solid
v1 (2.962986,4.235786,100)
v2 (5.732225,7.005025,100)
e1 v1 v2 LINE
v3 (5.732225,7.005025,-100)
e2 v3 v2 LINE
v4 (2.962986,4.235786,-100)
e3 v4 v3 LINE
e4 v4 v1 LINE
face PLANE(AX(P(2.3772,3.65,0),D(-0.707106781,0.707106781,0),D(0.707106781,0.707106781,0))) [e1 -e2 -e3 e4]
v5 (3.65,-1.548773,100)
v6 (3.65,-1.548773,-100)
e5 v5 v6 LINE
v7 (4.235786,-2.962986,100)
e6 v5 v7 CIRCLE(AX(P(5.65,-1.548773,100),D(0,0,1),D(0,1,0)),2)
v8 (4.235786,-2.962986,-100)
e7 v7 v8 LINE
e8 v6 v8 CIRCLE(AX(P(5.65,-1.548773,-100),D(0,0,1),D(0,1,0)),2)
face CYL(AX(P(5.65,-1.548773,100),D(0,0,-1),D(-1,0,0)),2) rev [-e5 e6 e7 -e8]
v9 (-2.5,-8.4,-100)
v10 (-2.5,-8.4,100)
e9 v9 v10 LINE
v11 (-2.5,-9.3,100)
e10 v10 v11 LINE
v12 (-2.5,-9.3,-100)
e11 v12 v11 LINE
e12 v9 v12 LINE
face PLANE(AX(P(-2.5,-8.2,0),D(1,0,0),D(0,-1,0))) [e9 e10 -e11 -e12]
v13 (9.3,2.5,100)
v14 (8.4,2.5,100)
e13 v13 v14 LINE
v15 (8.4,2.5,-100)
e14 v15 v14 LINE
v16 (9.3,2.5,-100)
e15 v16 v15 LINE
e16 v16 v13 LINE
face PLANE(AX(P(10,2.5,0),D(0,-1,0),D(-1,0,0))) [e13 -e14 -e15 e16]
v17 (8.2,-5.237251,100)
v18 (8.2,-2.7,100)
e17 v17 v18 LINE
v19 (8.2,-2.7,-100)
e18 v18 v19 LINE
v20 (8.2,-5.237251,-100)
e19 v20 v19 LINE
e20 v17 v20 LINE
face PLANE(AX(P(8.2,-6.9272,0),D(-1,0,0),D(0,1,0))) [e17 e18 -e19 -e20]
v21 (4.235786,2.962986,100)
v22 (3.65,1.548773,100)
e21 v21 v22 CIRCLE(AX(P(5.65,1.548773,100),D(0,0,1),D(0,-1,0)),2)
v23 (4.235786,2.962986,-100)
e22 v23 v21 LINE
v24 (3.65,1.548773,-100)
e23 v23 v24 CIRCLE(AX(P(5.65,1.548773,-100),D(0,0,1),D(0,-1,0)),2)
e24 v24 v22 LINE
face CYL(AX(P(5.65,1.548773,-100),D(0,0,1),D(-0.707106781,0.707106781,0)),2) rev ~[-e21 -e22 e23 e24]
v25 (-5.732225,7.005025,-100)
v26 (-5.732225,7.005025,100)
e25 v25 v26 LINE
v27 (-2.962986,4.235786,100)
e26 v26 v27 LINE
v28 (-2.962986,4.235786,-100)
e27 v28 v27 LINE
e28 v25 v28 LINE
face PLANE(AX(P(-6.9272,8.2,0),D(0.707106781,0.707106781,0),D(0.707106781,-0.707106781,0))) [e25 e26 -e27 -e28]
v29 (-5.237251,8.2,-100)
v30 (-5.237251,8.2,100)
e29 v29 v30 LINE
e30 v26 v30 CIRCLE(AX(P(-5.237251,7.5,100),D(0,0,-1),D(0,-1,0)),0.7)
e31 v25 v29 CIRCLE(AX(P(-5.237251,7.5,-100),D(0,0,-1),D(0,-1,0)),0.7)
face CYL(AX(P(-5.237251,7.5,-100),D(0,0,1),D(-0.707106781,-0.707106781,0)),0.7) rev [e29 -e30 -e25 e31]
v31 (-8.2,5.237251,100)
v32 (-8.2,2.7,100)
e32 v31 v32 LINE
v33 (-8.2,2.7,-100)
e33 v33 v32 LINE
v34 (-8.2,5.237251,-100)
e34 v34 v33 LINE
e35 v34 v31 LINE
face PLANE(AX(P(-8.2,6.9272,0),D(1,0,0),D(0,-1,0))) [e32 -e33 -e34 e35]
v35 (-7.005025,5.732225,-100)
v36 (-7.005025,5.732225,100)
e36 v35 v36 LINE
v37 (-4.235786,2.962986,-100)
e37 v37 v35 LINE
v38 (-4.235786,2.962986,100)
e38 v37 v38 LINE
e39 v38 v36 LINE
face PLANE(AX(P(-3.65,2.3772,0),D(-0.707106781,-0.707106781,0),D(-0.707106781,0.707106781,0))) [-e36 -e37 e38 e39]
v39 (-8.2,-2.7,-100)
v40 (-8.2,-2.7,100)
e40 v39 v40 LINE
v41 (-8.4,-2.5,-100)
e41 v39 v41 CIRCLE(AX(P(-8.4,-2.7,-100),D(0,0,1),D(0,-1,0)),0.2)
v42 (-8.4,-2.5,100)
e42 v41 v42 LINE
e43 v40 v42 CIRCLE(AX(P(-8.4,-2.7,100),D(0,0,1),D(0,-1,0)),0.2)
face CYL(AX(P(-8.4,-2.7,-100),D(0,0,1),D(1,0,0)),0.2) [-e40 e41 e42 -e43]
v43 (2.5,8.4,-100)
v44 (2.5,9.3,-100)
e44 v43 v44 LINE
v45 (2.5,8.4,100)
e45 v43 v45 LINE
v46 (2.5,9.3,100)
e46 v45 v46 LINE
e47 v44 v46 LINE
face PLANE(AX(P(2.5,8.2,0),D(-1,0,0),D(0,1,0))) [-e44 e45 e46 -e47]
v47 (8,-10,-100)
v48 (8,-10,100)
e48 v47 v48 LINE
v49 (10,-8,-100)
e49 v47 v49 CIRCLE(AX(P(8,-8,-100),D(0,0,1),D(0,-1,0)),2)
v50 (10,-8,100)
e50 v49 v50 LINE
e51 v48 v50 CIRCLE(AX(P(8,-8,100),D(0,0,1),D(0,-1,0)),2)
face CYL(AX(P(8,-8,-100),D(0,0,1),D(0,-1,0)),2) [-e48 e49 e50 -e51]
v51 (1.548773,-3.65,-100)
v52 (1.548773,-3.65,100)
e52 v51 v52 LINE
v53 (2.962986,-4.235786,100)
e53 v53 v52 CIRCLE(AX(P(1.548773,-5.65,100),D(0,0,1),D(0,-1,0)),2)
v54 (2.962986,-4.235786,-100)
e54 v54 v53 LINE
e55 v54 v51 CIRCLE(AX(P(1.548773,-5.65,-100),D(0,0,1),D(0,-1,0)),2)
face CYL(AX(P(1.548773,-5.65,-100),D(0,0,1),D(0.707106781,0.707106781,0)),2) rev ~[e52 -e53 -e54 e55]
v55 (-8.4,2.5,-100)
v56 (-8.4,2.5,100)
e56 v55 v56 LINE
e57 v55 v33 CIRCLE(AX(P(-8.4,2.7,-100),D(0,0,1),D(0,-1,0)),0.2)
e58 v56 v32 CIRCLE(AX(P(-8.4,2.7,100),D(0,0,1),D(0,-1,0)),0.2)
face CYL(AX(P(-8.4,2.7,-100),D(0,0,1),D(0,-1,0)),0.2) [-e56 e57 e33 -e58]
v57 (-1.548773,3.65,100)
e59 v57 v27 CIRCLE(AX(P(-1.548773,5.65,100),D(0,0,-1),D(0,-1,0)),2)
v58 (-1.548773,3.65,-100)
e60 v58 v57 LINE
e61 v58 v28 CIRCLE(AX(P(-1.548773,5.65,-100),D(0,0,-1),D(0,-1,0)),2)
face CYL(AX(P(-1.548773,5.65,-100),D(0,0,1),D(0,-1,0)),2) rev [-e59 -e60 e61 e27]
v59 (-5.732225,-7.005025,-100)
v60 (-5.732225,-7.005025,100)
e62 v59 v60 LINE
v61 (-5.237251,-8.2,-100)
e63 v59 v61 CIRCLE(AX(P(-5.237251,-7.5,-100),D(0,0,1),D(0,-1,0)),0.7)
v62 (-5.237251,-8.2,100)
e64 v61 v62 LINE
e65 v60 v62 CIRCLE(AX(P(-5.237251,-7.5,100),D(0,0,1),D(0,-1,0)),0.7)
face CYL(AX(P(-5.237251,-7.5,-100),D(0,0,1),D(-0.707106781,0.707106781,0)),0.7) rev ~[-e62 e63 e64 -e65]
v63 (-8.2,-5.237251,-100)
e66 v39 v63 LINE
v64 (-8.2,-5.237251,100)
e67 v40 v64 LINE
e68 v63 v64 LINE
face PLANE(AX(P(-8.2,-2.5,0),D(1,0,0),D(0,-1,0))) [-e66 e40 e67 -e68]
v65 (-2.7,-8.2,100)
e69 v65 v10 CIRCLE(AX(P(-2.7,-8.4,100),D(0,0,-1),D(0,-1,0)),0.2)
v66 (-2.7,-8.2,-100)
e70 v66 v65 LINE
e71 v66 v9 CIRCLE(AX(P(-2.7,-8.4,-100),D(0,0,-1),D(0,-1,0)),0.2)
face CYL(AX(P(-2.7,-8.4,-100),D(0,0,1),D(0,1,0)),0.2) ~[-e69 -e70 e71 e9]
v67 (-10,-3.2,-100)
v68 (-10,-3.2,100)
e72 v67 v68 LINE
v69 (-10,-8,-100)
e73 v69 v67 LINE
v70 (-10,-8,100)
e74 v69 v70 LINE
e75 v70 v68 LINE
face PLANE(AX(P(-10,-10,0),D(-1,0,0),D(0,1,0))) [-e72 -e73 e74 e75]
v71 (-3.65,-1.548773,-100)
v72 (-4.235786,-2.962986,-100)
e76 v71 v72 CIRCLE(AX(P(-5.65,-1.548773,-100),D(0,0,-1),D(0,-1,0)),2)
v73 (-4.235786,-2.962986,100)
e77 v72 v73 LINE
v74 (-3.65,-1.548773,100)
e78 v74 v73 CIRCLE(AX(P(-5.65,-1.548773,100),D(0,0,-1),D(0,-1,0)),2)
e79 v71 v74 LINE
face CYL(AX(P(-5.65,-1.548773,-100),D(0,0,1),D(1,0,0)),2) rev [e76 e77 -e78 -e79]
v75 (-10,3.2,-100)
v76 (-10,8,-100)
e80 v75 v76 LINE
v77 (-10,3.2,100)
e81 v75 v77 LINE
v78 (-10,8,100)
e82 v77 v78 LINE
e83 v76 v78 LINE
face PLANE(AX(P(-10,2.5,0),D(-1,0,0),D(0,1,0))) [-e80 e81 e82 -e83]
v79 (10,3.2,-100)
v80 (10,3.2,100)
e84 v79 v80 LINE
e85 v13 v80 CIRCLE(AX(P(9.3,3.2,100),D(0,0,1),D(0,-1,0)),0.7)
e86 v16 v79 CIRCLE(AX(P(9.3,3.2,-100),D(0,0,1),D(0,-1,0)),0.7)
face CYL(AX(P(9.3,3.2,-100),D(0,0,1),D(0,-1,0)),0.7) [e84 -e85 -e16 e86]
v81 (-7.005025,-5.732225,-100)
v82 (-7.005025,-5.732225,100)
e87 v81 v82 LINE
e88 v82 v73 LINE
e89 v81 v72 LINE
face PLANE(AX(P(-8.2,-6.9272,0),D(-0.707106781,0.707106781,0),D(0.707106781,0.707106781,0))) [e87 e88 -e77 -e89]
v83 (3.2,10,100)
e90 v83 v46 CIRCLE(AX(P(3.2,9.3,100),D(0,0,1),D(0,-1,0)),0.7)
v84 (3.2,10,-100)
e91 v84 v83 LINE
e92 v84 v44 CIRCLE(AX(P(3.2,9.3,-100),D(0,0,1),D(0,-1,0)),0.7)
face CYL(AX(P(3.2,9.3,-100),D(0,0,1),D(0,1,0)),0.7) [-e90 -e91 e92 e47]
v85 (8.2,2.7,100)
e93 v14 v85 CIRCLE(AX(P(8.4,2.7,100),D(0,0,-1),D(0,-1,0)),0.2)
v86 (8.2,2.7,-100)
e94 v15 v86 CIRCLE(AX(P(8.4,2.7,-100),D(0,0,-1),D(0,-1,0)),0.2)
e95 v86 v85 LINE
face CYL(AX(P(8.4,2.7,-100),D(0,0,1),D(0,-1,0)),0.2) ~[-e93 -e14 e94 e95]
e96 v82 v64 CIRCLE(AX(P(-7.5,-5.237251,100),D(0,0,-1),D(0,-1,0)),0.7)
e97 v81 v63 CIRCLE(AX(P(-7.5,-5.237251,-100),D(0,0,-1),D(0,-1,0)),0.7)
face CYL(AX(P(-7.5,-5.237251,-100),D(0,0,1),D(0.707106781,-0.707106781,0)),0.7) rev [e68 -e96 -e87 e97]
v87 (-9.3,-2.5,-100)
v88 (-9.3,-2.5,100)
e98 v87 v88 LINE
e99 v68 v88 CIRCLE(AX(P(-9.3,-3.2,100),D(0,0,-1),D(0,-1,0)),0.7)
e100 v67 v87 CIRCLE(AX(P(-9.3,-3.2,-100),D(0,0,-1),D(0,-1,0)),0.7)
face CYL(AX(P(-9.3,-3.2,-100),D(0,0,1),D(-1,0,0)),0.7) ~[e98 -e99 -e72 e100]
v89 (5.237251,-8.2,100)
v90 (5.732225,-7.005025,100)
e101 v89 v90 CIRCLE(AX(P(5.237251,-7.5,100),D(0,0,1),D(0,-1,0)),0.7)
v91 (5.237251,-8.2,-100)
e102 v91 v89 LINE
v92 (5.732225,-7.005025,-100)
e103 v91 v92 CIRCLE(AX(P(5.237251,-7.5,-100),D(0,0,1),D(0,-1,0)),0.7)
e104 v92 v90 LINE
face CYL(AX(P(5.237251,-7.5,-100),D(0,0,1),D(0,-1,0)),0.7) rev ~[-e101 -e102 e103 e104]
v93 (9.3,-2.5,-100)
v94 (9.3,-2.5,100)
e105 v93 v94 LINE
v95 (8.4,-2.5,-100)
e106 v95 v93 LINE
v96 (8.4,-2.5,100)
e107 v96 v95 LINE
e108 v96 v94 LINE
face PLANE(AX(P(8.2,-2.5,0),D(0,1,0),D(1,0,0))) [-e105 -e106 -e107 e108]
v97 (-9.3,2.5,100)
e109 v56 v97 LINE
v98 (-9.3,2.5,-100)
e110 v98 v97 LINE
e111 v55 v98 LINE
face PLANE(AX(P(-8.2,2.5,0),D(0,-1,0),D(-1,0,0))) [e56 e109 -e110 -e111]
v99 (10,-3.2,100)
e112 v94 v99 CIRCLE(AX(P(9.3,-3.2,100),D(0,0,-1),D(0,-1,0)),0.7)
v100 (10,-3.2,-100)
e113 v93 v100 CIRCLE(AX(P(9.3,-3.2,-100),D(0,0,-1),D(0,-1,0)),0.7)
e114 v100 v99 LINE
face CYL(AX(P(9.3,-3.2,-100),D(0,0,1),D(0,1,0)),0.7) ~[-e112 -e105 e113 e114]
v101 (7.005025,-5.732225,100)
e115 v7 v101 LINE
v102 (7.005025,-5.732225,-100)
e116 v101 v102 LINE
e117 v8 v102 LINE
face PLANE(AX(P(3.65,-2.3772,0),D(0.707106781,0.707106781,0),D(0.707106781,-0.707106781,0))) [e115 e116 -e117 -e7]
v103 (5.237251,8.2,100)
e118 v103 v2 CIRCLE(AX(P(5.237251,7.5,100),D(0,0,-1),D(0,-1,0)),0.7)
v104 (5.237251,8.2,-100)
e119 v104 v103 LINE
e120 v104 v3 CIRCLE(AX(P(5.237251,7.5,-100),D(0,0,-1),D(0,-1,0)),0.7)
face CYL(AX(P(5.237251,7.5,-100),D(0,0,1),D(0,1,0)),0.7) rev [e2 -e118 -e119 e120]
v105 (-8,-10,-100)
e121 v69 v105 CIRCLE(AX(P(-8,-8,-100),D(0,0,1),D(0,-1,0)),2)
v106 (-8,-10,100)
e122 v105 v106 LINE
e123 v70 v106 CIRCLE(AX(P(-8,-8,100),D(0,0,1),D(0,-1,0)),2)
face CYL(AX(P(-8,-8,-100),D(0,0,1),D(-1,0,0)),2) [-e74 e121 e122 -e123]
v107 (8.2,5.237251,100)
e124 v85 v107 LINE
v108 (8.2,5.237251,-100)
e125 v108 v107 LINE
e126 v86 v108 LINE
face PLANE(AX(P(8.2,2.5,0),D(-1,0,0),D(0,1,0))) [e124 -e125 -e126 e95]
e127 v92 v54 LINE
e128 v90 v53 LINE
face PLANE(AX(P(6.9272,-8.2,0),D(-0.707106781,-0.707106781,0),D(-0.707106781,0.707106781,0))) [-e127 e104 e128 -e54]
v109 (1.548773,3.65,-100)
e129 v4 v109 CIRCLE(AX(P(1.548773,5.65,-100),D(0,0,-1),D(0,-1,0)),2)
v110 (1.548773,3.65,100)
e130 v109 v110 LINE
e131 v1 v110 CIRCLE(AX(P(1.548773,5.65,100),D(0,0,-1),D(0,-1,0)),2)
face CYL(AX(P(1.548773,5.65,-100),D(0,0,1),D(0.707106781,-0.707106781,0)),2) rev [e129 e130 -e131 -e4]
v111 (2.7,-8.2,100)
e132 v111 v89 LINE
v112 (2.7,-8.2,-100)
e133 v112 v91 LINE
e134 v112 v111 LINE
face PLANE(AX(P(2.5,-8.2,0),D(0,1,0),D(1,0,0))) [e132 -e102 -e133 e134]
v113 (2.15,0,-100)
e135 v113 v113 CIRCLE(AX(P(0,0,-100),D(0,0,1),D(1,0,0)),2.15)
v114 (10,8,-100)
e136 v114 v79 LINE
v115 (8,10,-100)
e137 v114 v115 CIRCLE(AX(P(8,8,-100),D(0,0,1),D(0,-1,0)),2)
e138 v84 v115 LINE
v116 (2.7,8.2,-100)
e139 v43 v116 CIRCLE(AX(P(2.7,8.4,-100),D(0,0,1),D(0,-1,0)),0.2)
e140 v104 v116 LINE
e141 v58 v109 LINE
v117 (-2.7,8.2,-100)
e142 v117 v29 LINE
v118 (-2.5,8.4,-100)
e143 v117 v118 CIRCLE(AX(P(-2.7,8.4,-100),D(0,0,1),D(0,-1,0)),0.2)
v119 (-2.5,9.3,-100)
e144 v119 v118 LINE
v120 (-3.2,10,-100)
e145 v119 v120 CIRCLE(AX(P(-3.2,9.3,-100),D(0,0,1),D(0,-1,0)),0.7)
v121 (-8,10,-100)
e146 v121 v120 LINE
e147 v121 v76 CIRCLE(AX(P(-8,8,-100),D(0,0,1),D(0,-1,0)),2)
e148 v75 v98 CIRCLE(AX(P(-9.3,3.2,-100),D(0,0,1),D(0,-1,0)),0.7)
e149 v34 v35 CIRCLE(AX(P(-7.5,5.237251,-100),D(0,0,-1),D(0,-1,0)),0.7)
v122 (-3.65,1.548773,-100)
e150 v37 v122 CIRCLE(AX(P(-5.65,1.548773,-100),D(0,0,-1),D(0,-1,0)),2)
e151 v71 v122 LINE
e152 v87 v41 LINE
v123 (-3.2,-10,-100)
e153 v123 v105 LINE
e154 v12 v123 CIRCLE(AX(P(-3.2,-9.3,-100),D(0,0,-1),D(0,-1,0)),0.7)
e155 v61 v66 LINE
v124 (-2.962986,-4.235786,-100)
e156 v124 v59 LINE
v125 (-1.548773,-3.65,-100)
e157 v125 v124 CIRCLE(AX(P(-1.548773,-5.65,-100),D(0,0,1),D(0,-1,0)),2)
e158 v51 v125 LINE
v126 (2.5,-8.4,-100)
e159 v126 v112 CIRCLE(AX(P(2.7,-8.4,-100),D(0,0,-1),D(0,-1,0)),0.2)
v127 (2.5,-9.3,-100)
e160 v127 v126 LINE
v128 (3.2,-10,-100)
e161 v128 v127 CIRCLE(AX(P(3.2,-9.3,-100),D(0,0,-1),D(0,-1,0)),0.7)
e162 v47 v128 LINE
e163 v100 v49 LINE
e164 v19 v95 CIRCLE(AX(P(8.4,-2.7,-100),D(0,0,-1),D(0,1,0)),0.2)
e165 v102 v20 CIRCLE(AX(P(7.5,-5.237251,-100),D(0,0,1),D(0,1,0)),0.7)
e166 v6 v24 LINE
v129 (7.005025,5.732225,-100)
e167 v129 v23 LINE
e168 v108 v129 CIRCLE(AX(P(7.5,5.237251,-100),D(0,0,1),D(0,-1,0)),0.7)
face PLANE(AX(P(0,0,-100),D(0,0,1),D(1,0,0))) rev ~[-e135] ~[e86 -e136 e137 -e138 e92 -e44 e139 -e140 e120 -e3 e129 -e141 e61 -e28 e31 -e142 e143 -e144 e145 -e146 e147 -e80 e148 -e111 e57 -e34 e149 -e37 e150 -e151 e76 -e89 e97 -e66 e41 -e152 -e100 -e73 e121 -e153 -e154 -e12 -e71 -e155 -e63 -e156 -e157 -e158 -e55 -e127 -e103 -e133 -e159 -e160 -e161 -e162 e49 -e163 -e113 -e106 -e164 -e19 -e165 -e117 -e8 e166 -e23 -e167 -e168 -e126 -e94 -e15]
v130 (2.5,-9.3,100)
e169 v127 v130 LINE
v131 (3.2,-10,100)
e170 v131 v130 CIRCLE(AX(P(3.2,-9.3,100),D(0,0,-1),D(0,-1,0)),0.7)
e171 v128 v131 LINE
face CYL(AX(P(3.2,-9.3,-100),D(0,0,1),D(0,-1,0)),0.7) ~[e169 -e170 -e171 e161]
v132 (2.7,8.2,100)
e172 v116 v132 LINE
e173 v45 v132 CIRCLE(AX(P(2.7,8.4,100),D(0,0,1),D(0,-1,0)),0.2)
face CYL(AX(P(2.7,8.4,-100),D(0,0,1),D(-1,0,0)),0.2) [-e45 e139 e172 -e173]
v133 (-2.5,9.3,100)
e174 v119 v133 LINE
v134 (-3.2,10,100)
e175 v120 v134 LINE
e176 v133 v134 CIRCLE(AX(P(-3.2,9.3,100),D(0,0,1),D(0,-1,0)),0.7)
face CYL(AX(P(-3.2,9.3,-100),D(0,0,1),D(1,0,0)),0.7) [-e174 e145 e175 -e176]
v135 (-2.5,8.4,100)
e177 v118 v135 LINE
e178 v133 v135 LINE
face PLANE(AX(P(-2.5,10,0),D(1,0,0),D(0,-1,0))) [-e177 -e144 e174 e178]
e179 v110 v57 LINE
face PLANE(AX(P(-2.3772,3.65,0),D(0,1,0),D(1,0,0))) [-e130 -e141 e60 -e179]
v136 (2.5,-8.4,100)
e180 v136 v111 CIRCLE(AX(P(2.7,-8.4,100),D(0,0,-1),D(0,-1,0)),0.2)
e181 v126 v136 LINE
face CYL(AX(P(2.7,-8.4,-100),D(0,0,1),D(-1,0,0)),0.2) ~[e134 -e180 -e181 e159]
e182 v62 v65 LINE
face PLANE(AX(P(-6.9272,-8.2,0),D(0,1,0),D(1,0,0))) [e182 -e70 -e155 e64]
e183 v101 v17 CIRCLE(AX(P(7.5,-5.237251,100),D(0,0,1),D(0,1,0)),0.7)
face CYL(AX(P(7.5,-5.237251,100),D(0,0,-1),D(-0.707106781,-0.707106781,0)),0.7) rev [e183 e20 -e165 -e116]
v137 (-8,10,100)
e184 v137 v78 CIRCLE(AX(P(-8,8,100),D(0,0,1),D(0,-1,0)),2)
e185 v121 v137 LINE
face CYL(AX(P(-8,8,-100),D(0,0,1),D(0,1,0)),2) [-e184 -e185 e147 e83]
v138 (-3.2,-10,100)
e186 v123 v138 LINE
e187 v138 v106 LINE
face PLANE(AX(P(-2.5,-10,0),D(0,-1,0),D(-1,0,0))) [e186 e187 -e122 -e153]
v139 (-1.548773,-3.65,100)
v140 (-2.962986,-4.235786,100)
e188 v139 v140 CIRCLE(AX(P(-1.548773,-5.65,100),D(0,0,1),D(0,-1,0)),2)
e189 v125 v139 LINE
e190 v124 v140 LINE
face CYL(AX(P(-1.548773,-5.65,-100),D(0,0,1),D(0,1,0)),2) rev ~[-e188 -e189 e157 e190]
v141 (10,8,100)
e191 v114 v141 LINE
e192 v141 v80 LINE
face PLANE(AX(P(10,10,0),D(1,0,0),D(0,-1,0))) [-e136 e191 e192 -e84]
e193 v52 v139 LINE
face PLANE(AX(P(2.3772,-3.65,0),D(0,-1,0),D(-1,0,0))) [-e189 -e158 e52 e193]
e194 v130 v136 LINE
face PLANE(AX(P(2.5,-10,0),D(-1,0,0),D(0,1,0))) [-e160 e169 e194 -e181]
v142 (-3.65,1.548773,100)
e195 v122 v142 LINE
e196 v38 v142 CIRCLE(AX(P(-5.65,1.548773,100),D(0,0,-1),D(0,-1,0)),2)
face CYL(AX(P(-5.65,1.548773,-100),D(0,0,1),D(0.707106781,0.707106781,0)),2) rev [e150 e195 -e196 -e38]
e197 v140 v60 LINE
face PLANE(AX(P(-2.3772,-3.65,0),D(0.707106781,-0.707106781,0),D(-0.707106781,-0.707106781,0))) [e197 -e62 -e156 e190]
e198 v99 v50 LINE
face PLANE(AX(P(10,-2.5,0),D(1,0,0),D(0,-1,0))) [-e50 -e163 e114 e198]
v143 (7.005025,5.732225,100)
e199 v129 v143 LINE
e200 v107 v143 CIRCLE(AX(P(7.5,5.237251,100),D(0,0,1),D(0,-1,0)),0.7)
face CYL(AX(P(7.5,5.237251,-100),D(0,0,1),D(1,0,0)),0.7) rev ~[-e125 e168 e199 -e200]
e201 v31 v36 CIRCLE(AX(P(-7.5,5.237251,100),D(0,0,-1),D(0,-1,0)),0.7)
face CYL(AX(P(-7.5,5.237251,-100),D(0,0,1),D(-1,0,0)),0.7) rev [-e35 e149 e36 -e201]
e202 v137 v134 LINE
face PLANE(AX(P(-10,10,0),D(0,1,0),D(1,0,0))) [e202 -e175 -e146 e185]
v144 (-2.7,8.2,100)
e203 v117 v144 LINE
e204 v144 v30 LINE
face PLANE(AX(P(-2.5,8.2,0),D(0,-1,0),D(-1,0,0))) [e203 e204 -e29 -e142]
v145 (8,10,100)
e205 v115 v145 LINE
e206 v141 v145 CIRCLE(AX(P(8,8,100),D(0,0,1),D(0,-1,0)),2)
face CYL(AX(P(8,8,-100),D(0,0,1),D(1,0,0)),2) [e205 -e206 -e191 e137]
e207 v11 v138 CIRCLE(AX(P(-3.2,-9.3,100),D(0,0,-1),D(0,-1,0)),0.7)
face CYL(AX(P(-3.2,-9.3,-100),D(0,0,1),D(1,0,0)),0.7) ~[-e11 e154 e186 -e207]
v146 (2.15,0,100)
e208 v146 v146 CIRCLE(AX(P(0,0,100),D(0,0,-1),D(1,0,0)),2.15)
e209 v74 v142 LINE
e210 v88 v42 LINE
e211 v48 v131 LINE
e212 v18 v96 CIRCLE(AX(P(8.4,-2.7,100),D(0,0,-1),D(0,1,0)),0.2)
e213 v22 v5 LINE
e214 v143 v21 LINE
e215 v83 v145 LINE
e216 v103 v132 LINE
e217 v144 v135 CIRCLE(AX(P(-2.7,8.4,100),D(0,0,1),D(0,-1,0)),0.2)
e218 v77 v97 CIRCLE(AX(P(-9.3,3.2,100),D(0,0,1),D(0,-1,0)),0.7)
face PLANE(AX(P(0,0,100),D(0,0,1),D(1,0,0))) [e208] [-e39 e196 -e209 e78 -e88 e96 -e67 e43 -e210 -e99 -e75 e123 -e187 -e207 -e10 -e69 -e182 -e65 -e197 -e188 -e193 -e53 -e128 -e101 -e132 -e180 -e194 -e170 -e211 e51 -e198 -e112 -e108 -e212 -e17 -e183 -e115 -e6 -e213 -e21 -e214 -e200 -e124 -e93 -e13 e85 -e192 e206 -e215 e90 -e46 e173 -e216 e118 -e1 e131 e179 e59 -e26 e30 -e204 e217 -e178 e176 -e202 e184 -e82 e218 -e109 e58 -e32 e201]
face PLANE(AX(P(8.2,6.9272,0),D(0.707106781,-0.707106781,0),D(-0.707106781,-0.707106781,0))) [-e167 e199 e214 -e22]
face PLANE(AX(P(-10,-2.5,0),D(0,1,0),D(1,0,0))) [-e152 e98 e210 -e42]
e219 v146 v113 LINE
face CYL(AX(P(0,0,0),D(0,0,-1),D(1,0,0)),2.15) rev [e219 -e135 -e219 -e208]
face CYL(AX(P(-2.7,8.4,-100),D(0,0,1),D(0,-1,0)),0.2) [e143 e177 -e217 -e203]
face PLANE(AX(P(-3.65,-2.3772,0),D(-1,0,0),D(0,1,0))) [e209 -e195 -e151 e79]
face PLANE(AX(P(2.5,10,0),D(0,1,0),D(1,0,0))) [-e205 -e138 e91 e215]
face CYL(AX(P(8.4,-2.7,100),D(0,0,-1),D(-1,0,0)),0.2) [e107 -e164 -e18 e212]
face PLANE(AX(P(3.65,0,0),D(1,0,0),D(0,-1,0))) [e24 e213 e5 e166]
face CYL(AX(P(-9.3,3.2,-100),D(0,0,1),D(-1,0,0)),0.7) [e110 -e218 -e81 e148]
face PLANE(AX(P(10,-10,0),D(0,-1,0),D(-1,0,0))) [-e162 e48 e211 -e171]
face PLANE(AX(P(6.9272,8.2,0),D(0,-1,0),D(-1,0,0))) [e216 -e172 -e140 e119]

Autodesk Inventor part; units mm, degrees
ref_plane "YZ Plane" through (0, 0, 0) normal (1, 0, 0) x (0, 1, 0)
ref_plane "XZ Plane" through (0, 0, 0) normal (0, 1, 0) x (-1, 0, 0)
ref_plane "XY Plane" through (0, 0, 0) normal (0, 0, 1) x (1, 0, 0)
sketch "Sketch1" plane through (0, 0, 0) normal (0, 0, 1) x (1, 0, 0)
  circle A0 centre (0, 0) radius 2.15
  line L0 (-10, 10) -> (-2.5, 10)
  line L1 (-2.5, 10) -> (-2.5, 8.2)
  line L2 (-2.5, 8.2) -> (-6.9272, 8.2)
  line L3 (-6.9272, 8.2) -> (-2.3772, 3.65)
  line L4 (-2.3772, 3.65) -> (2.3772, 3.65)
  line L5 (2.3772, 3.65) -> (6.9272, 8.2)
  line L6 (6.9272, 8.2) -> (2.5, 8.2)
  line L7 (2.5, 8.2) -> (2.5, 10)
  line L8 (2.5, 10) -> (10, 10)
  line L9 (10, 10) -> (10, 2.5)
  line L10 (10, 2.5) -> (8.2, 2.5)
  line L11 (8.2, 2.5) -> (8.2, 6.9272)
  line L12 (8.2, 6.9272) -> (3.65, 2.3772)
  line L13 (3.65, 2.3772) -> (3.65, -2.3772)
  line L14 (3.65, -2.3772) -> (8.2, -6.9272)
  line L15 (8.2, -6.9272) -> (8.2, -2.5)
  line L16 (8.2, -2.5) -> (10, -2.5)
  line L17 (10, -2.5) -> (10, -10)
  line L18 (10, -10) -> (2.5, -10)
  line L19 (2.5, -10) -> (2.5, -8.2)
  line L20 (2.5, -8.2) -> (6.9272, -8.2)
  line L21 (6.9272, -8.2) -> (2.3772, -3.65)
  line L22 (2.3772, -3.65) -> (-2.3772, -3.65)
  line L23 (-2.3772, -3.65) -> (-6.9272, -8.2)
  line L24 (-6.9272, -8.2) -> (-2.5, -8.2)
  line L25 (-2.5, -8.2) -> (-2.5, -10)
  line L26 (-2.5, -10) -> (-10, -10)
  line L27 (-10, -10) -> (-10, -2.5)
  line L28 (-10, -2.5) -> (-8.2, -2.5)
  line L29 (-8.2, -2.5) -> (-8.2, -6.9272)
  line L30 (-8.2, -6.9272) -> (-3.65, -2.3772)
  line L31 (-3.65, -2.3772) -> (-3.65, 2.3772)
  line L32 (-3.65, 2.3772) -> (-8.2, 6.9272)
  line L33 (-8.2, 6.9272) -> (-8.2, 2.5)
  line L34 (-8.2, 2.5) -> (-10, 2.5)
  line L35 (-10, 2.5) -> (-10, 10)
  line L36 (0, 0) -> (-30.8654, 30.8654)
  line L37 (0, 0) -> (30.8654, 30.8654)
  line L38 (0, 0) -> (42.5392, 0)
  line L39 (0, 0) -> (0, 44.3419)
  dimension "d0" = 45
  dimension "d1" = 90
  dimension "Breite" = 20
  dimension "Tiefe_Schiene" = 6.35
  dimension "d2" = 1.8
  dimension "Durchmesser_Loch" = 4.3
  dimension "Wandstaerke" = 1.8
  dimension "d3" = 1.8
  dimension "Breite_Schiene" = 5
  dimension "d4" = 5
extrude "Extrusion1" add sketch "Sketch1" along normal mid plane 200 contours L38 L13 L14 L15 L16 L17 L18 L19 L20 L21 L22 L23 L24 L25 L26 L27 L28 L29 L30 L31 L32 L33 L34 L35 L36 A0 | A0 L37 L9 L10 L11 L12 L13 L38 | A0 L39 L4 L5 L6 L7 L8 L37 | L36 L0 L1 L2 L3 L4 L39 A0
fillet "Fillet1" radius 2 4 edges at (10, 10, 0) (-10, 10, 0) (10, -10, 0) (-10, -10, 0)
fillet "Fillet2" radius 0.2 8 edges at (-2.5, 8.2, 0) (2.5, 8.2, 0) (8.2, 2.5, 0) (8.2, -2.5, 0) (-2.5, -8.2, 0) (-8.2, -2.5, 0) (-8.2, 2.5, 0) (2.5, -8.2, 0)
fillet "Fillet3" radius 0.7 16 edges at (-2.5, 10, 0) (2.5, 10, 0) (10, 2.5, 0) (10, -2.5, 0) (2.5, -10, 0) (-2.5, -10, 0) (-10, -2.5, 0) (-10, 2.5, 0) (-6.9272, -8.2, 0) (-8.2, -6.9272, 0) (6.9272, -8.2, 0) (8.2, -6.9272, 0) (8.2, 6.9272, 0) (6.9272, 8.2, 0) (-6.9272, 8.2, 0) (-8.2, 6.9272, 0)
fillet "Fillet4" radius 2 8 edges at (-3.65, 2.3772, 0) (-2.3772, 3.65, 0) (2.3772, 3.65, 0) (3.65, 2.3772, 0) (3.65, -2.3772, 0) (2.3772, -3.65, 0) (-2.3772, -3.65, 0) (-3.65, -2.3772, 0)
equation "\"d2\" = Wandstaerke"
equation "\"d3\" = Wandstaerke"
equation "\"d4\" = Breite_Schiene"
properties part number "503.025.01_ITEM_20x20_200mm"
